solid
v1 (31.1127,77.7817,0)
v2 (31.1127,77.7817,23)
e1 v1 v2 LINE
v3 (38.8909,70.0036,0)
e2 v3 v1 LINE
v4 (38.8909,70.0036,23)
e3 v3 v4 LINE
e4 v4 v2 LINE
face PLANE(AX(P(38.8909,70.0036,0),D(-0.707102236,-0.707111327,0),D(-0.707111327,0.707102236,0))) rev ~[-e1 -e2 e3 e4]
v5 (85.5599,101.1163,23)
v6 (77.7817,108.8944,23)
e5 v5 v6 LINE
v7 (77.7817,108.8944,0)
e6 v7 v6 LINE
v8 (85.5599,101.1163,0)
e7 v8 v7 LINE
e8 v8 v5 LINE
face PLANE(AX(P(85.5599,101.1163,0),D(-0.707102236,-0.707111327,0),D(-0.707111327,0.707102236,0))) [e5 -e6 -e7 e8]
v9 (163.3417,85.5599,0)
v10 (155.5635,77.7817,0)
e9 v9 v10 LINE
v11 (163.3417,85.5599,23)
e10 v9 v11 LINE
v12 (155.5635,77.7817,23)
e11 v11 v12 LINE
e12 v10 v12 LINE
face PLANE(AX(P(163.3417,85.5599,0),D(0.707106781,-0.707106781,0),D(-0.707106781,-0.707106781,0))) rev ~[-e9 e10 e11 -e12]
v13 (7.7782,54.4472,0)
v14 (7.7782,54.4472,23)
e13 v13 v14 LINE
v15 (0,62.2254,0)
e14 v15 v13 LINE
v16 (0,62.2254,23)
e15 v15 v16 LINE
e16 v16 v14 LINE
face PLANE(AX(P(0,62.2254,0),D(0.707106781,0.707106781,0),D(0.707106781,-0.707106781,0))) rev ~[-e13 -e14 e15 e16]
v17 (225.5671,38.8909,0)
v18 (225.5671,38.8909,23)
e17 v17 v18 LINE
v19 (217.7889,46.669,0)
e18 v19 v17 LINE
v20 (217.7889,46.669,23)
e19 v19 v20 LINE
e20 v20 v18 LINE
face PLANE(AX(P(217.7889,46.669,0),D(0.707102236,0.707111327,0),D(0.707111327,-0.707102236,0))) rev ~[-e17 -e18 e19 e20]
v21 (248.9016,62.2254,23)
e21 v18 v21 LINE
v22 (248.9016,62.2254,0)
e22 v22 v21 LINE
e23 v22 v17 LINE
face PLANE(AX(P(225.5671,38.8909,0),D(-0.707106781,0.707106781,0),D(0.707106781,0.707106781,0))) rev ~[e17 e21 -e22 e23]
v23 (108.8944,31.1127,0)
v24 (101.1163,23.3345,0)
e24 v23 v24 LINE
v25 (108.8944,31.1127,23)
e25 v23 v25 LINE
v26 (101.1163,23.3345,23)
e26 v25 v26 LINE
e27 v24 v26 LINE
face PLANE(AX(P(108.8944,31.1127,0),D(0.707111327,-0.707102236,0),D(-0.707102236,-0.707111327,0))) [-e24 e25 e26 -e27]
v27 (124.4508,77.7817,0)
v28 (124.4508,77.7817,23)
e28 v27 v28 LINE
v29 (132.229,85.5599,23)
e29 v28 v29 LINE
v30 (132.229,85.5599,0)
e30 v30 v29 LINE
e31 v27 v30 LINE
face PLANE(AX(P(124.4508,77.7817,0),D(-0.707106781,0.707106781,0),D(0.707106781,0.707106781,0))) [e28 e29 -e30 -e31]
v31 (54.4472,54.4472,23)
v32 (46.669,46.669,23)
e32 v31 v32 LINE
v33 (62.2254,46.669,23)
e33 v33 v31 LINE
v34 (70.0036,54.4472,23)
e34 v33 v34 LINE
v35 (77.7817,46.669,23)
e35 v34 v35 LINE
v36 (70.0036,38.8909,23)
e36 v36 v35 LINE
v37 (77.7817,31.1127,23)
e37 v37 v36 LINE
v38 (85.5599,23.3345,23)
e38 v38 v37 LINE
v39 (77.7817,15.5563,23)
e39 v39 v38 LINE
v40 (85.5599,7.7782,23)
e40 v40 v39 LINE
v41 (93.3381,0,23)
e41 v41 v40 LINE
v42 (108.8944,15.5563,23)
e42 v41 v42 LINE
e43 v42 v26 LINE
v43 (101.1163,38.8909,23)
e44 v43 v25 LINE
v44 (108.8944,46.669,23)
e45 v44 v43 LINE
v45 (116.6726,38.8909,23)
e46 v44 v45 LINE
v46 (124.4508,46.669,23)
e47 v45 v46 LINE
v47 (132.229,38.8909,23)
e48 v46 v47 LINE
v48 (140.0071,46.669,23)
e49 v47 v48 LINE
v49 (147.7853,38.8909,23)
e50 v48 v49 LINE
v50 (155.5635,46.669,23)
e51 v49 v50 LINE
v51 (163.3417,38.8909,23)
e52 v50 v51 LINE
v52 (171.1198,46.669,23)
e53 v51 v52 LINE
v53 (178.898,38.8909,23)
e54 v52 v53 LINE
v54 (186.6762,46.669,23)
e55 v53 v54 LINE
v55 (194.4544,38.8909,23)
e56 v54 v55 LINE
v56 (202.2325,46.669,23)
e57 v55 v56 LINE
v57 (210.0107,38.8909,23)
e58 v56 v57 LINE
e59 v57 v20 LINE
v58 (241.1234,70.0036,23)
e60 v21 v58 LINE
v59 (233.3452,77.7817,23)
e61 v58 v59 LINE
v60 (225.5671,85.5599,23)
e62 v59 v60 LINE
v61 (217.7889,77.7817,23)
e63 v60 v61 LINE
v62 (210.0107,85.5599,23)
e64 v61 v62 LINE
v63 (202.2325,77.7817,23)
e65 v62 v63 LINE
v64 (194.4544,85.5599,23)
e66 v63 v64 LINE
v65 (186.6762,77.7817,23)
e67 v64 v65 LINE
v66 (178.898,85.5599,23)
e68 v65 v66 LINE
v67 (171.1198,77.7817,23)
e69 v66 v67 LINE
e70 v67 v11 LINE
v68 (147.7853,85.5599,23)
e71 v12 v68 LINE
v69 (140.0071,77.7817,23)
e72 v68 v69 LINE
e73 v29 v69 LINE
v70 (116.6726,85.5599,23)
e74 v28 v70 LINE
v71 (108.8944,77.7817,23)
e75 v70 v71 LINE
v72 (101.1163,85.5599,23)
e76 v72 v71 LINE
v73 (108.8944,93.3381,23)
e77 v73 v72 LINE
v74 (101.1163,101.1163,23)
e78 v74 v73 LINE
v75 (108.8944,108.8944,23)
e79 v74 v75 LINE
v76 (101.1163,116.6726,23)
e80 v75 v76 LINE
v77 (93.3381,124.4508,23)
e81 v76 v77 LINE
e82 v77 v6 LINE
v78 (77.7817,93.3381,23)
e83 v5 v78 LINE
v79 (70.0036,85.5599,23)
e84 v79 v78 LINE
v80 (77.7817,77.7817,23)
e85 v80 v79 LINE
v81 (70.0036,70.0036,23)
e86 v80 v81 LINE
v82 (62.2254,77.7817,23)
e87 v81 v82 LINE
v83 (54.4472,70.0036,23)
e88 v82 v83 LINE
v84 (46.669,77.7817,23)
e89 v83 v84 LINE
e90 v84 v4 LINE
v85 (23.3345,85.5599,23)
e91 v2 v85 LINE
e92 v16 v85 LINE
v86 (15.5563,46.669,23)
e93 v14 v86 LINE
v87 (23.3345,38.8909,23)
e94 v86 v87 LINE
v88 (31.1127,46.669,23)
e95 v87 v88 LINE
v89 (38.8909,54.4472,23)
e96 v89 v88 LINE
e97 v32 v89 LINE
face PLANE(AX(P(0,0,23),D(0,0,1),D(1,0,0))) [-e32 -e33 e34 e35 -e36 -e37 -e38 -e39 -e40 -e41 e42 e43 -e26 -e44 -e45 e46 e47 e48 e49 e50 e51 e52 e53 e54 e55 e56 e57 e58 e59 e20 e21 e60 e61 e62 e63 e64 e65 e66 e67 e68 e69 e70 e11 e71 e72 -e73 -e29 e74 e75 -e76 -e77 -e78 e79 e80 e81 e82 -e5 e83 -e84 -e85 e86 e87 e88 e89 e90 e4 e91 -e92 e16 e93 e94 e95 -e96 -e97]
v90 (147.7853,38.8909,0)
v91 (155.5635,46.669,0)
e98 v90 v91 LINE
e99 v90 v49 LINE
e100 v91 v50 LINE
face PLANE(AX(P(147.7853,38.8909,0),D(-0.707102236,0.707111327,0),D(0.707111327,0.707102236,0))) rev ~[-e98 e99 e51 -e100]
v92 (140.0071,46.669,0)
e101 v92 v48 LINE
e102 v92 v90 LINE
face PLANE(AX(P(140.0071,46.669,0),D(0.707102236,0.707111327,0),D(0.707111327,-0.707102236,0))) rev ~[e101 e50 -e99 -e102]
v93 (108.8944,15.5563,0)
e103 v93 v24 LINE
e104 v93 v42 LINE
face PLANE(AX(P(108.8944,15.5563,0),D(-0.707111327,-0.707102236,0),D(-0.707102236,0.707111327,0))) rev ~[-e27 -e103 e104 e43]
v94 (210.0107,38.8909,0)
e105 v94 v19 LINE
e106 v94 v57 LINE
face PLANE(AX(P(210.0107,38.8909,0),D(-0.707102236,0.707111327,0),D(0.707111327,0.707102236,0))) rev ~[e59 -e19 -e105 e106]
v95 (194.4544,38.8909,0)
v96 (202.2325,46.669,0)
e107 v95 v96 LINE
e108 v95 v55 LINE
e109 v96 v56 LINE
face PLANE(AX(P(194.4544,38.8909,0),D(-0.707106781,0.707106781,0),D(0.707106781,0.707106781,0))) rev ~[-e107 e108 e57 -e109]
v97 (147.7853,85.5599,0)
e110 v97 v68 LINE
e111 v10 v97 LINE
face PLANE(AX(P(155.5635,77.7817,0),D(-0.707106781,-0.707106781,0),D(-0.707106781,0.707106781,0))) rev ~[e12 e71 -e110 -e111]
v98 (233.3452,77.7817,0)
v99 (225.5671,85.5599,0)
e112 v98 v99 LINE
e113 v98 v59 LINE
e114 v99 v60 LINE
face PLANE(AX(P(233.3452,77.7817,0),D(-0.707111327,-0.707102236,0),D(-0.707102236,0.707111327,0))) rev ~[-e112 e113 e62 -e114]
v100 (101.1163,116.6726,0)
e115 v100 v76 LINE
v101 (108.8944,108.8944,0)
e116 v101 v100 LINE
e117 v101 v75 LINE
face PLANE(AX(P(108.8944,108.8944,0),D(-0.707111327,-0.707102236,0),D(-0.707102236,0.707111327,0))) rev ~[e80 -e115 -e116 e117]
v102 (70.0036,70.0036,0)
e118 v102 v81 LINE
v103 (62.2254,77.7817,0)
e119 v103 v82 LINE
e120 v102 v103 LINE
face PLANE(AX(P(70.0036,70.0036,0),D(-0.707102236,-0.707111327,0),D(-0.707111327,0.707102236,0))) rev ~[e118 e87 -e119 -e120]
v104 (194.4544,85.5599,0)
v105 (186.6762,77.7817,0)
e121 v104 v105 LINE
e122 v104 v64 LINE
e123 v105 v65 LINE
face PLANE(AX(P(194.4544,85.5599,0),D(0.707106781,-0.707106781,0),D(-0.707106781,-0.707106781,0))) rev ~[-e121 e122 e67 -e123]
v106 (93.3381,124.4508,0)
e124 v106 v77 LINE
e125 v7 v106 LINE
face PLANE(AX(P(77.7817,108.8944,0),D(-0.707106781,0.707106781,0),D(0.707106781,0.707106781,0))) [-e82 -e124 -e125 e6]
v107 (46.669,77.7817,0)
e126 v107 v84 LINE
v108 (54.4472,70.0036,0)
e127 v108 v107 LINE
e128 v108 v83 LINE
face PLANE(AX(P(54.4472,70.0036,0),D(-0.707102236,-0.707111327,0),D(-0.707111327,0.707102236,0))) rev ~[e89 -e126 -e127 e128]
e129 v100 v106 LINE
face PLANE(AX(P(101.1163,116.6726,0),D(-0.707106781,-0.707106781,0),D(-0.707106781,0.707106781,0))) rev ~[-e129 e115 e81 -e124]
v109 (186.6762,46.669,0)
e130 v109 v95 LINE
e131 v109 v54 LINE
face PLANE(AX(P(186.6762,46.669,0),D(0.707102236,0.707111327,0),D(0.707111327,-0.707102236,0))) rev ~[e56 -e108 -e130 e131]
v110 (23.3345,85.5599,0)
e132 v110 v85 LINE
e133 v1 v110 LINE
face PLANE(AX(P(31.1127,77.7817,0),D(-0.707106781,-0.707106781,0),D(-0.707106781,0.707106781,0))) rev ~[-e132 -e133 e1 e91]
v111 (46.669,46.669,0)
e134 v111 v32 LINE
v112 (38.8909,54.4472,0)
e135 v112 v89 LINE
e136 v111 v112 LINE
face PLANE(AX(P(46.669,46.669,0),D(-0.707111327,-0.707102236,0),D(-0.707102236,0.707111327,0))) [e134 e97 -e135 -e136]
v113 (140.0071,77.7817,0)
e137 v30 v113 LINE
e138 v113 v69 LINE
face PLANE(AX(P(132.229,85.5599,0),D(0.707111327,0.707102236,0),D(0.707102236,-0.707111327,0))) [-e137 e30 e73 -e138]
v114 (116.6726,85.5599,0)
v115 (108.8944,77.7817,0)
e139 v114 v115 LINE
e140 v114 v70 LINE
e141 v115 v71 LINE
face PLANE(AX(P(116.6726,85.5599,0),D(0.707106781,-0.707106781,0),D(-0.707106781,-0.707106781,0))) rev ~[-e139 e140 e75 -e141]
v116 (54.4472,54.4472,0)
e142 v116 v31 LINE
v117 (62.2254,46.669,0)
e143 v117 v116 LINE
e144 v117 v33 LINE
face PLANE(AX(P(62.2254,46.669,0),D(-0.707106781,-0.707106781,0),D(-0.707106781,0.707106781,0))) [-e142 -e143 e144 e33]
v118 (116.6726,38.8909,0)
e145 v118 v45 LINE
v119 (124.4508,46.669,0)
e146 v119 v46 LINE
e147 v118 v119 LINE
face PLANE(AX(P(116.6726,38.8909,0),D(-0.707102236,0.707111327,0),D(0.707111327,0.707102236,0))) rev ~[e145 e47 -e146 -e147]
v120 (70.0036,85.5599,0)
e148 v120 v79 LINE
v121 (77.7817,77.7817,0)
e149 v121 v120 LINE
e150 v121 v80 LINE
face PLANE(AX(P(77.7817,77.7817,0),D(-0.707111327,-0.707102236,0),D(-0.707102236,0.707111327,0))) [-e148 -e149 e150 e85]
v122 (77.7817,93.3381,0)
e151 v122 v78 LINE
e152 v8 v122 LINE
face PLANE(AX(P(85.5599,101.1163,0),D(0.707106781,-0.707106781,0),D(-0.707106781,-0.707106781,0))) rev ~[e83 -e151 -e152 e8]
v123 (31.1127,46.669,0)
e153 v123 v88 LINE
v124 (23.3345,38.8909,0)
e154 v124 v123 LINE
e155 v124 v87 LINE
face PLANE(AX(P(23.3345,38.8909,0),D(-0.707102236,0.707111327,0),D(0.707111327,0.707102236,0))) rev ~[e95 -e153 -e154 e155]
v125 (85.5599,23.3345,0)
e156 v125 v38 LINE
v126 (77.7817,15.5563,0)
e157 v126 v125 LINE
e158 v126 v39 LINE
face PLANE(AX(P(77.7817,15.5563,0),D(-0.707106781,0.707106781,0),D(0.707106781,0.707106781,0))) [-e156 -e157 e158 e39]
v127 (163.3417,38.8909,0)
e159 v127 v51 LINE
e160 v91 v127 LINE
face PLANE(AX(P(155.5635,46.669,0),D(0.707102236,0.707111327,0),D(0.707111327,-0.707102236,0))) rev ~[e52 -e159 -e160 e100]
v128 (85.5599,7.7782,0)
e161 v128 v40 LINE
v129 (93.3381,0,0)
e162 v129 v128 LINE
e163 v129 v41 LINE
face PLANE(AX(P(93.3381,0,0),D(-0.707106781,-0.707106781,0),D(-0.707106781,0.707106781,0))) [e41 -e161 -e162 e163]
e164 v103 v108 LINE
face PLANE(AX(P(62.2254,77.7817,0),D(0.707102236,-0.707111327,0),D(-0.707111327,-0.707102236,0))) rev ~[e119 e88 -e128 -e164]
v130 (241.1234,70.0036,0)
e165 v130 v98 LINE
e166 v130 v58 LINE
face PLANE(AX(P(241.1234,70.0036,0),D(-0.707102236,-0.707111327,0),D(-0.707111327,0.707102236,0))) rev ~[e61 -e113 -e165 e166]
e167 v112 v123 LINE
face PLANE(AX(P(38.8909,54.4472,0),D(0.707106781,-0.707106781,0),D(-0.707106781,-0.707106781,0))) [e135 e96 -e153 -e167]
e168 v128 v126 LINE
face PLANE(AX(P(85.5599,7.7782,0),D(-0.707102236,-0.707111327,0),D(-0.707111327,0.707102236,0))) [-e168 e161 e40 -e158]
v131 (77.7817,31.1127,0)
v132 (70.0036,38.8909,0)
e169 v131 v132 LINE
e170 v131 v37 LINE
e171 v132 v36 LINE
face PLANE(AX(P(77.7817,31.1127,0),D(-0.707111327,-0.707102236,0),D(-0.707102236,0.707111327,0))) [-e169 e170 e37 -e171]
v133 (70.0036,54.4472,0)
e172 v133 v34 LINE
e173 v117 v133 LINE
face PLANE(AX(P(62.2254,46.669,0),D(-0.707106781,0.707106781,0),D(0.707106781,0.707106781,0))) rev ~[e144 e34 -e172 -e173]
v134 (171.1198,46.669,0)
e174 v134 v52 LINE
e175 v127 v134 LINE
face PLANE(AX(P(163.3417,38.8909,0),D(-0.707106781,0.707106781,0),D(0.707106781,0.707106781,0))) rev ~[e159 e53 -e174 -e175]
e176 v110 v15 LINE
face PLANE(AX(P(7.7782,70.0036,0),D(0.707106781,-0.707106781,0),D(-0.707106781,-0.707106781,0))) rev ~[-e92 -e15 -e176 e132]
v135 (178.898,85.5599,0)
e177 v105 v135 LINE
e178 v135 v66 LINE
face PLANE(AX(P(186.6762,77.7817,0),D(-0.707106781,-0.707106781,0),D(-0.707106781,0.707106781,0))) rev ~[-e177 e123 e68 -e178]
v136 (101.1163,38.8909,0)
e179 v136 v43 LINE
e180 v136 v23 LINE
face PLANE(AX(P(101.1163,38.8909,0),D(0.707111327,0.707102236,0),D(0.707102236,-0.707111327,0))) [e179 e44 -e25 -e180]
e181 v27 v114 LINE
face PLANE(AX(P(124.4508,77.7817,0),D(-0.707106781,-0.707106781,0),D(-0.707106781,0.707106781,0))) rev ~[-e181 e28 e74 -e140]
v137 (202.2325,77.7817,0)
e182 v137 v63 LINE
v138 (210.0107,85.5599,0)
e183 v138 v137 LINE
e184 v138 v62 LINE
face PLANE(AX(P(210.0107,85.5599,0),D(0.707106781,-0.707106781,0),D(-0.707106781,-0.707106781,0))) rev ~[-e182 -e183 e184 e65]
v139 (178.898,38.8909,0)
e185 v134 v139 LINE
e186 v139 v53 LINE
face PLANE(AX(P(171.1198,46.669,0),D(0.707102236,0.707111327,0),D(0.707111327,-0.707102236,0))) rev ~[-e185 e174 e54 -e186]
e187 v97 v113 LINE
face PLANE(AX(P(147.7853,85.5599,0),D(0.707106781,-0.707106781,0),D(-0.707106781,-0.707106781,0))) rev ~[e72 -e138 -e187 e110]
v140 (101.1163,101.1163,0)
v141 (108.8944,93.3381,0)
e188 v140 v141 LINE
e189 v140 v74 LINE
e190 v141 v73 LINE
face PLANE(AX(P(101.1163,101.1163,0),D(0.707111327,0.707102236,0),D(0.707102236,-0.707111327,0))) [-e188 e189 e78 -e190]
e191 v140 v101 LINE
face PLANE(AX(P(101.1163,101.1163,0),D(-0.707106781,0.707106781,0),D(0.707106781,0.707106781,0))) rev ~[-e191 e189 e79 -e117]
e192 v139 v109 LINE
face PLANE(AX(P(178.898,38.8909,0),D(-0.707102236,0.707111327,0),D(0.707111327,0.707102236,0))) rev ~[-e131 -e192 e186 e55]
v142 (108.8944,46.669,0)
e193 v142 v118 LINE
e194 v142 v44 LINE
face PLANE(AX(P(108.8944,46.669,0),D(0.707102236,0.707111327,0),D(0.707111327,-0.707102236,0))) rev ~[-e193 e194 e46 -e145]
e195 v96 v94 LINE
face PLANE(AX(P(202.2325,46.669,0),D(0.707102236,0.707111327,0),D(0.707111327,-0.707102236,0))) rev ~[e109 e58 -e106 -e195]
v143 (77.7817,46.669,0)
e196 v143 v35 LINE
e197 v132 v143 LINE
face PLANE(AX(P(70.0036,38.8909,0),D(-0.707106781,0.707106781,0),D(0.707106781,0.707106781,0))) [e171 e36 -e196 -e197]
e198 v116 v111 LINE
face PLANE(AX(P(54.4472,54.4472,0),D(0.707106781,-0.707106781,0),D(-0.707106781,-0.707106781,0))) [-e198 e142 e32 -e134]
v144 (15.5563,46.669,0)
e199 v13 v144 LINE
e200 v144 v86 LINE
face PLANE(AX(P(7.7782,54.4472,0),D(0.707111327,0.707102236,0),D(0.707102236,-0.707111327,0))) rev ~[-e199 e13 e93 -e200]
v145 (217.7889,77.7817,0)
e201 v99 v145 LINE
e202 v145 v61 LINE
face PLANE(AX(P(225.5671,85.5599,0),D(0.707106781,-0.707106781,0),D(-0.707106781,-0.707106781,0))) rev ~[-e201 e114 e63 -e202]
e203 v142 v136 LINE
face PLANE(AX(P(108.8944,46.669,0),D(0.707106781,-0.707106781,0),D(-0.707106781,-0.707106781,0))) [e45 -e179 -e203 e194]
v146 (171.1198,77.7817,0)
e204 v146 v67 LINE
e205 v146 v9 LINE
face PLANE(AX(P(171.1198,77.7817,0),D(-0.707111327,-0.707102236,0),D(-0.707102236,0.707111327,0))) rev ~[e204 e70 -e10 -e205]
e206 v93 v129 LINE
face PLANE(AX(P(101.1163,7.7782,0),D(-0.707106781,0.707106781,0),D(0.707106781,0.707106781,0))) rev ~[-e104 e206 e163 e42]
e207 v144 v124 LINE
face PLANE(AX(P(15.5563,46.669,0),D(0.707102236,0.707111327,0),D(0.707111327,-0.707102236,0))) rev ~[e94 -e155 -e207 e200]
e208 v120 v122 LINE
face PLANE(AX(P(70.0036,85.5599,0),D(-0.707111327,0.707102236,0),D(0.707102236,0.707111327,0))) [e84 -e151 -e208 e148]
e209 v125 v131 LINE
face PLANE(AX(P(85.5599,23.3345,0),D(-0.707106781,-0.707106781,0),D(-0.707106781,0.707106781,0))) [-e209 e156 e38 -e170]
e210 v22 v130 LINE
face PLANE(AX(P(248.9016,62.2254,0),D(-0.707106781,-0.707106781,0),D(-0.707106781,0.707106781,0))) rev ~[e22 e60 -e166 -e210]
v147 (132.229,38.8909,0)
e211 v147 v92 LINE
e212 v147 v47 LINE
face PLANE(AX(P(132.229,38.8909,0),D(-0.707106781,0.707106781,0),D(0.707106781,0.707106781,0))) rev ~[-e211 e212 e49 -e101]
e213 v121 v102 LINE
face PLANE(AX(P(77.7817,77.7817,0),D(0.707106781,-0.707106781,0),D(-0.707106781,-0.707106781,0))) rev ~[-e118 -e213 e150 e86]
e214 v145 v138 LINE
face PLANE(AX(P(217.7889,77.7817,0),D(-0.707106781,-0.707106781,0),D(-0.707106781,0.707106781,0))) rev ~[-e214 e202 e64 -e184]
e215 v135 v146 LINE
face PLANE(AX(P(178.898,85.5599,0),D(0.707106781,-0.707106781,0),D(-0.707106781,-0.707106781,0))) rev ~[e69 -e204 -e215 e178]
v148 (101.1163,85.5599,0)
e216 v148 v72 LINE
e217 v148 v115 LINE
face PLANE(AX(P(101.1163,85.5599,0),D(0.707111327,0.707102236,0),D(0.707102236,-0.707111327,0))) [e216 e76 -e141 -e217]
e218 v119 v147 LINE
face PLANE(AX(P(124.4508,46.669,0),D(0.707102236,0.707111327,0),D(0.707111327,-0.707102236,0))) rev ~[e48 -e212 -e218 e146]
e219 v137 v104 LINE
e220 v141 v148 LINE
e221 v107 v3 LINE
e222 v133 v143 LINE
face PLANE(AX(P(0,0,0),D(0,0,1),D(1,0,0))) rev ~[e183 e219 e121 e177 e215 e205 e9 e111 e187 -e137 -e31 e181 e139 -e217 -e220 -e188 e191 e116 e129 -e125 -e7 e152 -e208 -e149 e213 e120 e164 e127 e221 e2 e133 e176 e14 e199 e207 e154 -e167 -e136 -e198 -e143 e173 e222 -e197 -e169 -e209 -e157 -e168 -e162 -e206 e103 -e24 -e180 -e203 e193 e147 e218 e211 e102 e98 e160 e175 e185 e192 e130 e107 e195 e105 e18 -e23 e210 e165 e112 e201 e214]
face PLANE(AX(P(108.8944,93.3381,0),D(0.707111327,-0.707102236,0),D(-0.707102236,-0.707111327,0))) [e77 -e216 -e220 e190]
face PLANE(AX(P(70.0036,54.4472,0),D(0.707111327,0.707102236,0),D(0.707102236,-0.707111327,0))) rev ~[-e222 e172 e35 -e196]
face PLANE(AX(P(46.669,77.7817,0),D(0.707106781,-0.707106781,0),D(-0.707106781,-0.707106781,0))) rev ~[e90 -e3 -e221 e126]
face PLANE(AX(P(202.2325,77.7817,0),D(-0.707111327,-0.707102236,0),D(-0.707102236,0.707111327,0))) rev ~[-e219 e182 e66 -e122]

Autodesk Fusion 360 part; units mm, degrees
sketch "big huge diamond sword" plane through (0, 0, 0) normal (0, 0, 1) x (1, 0, 0)
  line L0 (0, 62.2254) -> (7.7782, 54.4472)
  line L1 (7.7782, 54.4472) -> (15.5563, 62.2254)
  line L2 (15.5563, 62.2254) -> (7.7782, 70.0036)
  line L3 (7.7782, 70.0036) -> (0, 62.2254)
  line L4 (7.7782, 54.4472) -> (15.5563, 46.669)
  line L5 (15.5563, 46.669) -> (23.3345, 54.4472)
  line L6 (23.3345, 54.4472) -> (15.5563, 62.2254)
  line L7 (15.5563, 62.2254) -> (7.7782, 54.4472)
  line L8 (15.5563, 46.669) -> (23.3345, 38.8909)
  line L9 (23.3345, 38.8909) -> (31.1127, 46.669)
  line L10 (23.3345, 54.4472) -> (15.5563, 46.669)
  line L11 (7.7782, 70.0036) -> (15.5563, 62.2254)
  line L12 (15.5563, 62.2254) -> (23.3345, 70.0036)
  line L13 (23.3345, 70.0036) -> (15.5563, 77.7817)
  line L14 (15.5563, 77.7817) -> (7.7782, 70.0036)
  line L15 (23.3345, 70.0036) -> (31.1127, 62.2254)
  line L16 (31.1127, 62.2254) -> (23.3345, 54.4472)
  line L17 (23.3345, 54.4472) -> (15.5563, 62.2254)
  line L18 (15.5563, 62.2254) -> (23.3345, 70.0036)
  line L19 (15.5563, 77.7817) -> (23.3345, 70.0036)
  line L20 (23.3345, 70.0036) -> (31.1127, 77.7817)
  line L21 (31.1127, 77.7817) -> (23.3345, 85.5599)
  line L22 (23.3345, 85.5599) -> (15.5563, 77.7817)
  line L23 (23.3345, 70.0036) -> (31.1127, 62.2254)
  line L24 (31.1127, 62.2254) -> (38.8909, 70.0036)
  line L25 (38.8909, 70.0036) -> (31.1127, 77.7817)
  line L26 (31.1127, 77.7817) -> (23.3345, 70.0036)
  line L27 (31.1127, 62.2254) -> (38.8909, 54.4472)
  line L28 (38.8909, 54.4472) -> (31.1127, 46.669)
  line L29 (31.1127, 46.669) -> (23.3345, 54.4472)
  line L30 (23.3345, 54.4472) -> (31.1127, 62.2254)
  line L31 (31.1127, 62.2254) -> (38.8909, 54.4472)
  line L32 (38.8909, 54.4472) -> (46.669, 62.2254)
  line L33 (46.669, 62.2254) -> (38.8909, 70.0036)
  line L34 (38.8909, 70.0036) -> (31.1127, 62.2254)
  line L35 (38.8909, 70.0036) -> (46.669, 62.2254)
  line L36 (46.669, 62.2254) -> (54.4472, 70.0036)
  line L37 (54.4472, 70.0036) -> (46.669, 77.7817)
  line L38 (46.669, 77.7817) -> (38.8909, 70.0036)
  line L39 (46.669, 62.2254) -> (54.4472, 54.4472)
  line L40 (54.4472, 54.4472) -> (46.669, 46.669)
  line L41 (46.669, 46.669) -> (38.8909, 54.4472)
  line L42 (38.8909, 54.4472) -> (46.669, 62.2254)
  line L43 (46.669, 62.2254) -> (54.4472, 54.4472)
  line L44 (54.4472, 54.4472) -> (62.2254, 62.2254)
  line L45 (62.2254, 62.2254) -> (54.4472, 70.0036)
  line L46 (54.4472, 70.0036) -> (46.669, 62.2254)
  line L47 (54.4472, 70.0036) -> (62.2254, 62.2254)
  line L48 (62.2254, 62.2254) -> (70.0036, 70.0036)
  line L49 (70.0036, 70.0036) -> (62.2254, 77.7817)
  line L50 (62.2254, 77.7817) -> (54.4472, 70.0036)
  line L51 (62.2254, 62.2254) -> (70.0036, 54.4472)
  line L52 (62.2254, 46.669) -> (54.4472, 54.4472)
  line L53 (54.4472, 54.4472) -> (62.2254, 62.2254)
  line L54 (62.2254, 62.2254) -> (70.0036, 54.4472)
  line L55 (70.0036, 54.4472) -> (77.7817, 62.2254)
  line L56 (77.7817, 62.2254) -> (70.0036, 70.0036)
  line L57 (70.0036, 70.0036) -> (62.2254, 62.2254)
  line L58 (70.0036, 70.0036) -> (77.7817, 62.2254)
  line L59 (77.7817, 62.2254) -> (85.5599, 70.0036)
  line L60 (85.5599, 70.0036) -> (77.7817, 77.7817)
  line L61 (77.7817, 77.7817) -> (70.0036, 70.0036)
  line L62 (77.7817, 77.7817) -> (70.0036, 85.5599)
  line L63 (70.0036, 85.5599) -> (77.7817, 93.3381)
  line L64 (77.7817, 93.3381) -> (85.5599, 85.5599)
  line L65 (85.5599, 85.5599) -> (77.7817, 77.7817)
  line L66 (77.7817, 93.3381) -> (85.5599, 85.5599)
  line L67 (85.5599, 85.5599) -> (93.3381, 93.3381)
  line L68 (93.3381, 93.3381) -> (85.5599, 101.1163)
  line L69 (85.5599, 101.1163) -> (77.7817, 93.3381)
  line L70 (85.5599, 101.1163) -> (77.7817, 108.8944)
  line L71 (77.7817, 108.8944) -> (85.5599, 116.6726)
  line L72 (85.5599, 116.6726) -> (93.3381, 108.8944)
  line L73 (93.3381, 108.8944) -> (85.5599, 101.1163)
  line L74 (85.5599, 116.6726) -> (93.3381, 108.8944)
  line L75 (93.3381, 108.8944) -> (101.1163, 116.6726)
  line L76 (101.1163, 116.6726) -> (93.3381, 124.4508)
  line L77 (93.3381, 124.4508) -> (85.5599, 116.6726)
  line L78 (93.3381, 108.8944) -> (101.1163, 101.1163)
  line L79 (101.1163, 101.1163) -> (108.8944, 108.8944)
  line L80 (108.8944, 108.8944) -> (101.1163, 116.6726)
  line L81 (101.1163, 116.6726) -> (93.3381, 108.8944)
  line L82 (85.5599, 101.1163) -> (93.3381, 93.3381)
  line L83 (93.3381, 93.3381) -> (101.1163, 101.1163)
  line L84 (101.1163, 101.1163) -> (93.3381, 108.8944)
  line L85 (93.3381, 108.8944) -> (85.5599, 101.1163)
  line L86 (101.1163, 101.1163) -> (108.8944, 93.3381)
  line L87 (108.8944, 93.3381) -> (101.1163, 85.5599)
  line L88 (101.1163, 85.5599) -> (93.3381, 93.3381)
  line L89 (93.3381, 93.3381) -> (101.1163, 101.1163)
  line L90 (93.3381, 93.3381) -> (101.1163, 85.5599)
  line L91 (101.1163, 85.5599) -> (93.3381, 77.7817)
  line L92 (93.3381, 77.7817) -> (85.5599, 85.5599)
  line L93 (85.5599, 85.5599) -> (93.3381, 93.3381)
  line L94 (77.7817, 77.7817) -> (85.5599, 70.0036)
  line L95 (85.5599, 70.0036) -> (93.3381, 77.7817)
  line L96 (93.3381, 77.7817) -> (85.5599, 85.5599)
  line L97 (85.5599, 85.5599) -> (77.7817, 77.7817)
  line L98 (70.0036, 54.4472) -> (77.7817, 46.669)
  line L99 (62.2254, 46.669) -> (70.0036, 54.4472)
  line L100 (77.7817, 62.2254) -> (85.5599, 54.4472)
  line L101 (85.5599, 54.4472) -> (77.7817, 46.669)
  line L102 (70.0036, 54.4472) -> (77.7817, 62.2254)
  line L103 (85.5599, 70.0036) -> (93.3381, 62.2254)
  line L104 (93.3381, 62.2254) -> (85.5599, 54.4472)
  line L105 (85.5599, 54.4472) -> (77.7817, 62.2254)
  line L106 (77.7817, 62.2254) -> (85.5599, 70.0036)
  line L107 (77.7817, 46.669) -> (85.5599, 38.8909)
  line L108 (85.5599, 38.8909) -> (77.7817, 31.1127)
  line L109 (77.7817, 31.1127) -> (70.0036, 38.8909)
  line L110 (70.0036, 38.8909) -> (77.7817, 46.669)
  line L111 (77.7817, 46.669) -> (85.5599, 38.8909)
  line L112 (85.5599, 38.8909) -> (93.3381, 46.669)
  line L113 (93.3381, 46.669) -> (85.5599, 54.4472)
  line L114 (85.5599, 54.4472) -> (77.7817, 46.669)
  line L115 (85.5599, 38.8909) -> (93.3381, 31.1127)
  line L116 (93.3381, 31.1127) -> (85.5599, 23.3345)
  line L117 (85.5599, 23.3345) -> (77.7817, 31.1127)
  line L118 (77.7817, 31.1127) -> (85.5599, 38.8909)
  line L119 (85.5599, 23.3345) -> (93.3381, 15.5563)
  line L120 (93.3381, 15.5563) -> (101.1163, 23.3345)
  line L121 (101.1163, 23.3345) -> (93.3381, 31.1127)
  line L122 (93.3381, 31.1127) -> (85.5599, 23.3345)
  line L123 (93.3381, 15.5563) -> (101.1163, 7.7782)
  line L124 (101.1163, 7.7782) -> (108.8944, 15.5563)
  line L125 (108.8944, 15.5563) -> (101.1163, 23.3345)
  line L126 (101.1163, 23.3345) -> (93.3381, 15.5563)
  line L127 (85.5599, 23.3345) -> (93.3381, 15.5563)
  line L128 (93.3381, 15.5563) -> (85.5599, 7.7782)
  line L129 (85.5599, 7.7782) -> (77.7817, 15.5563)
  line L130 (77.7817, 15.5563) -> (85.5599, 23.3345)
  line L131 (93.3381, 15.5563) -> (101.1163, 7.7782)
  line L132 (101.1163, 7.7782) -> (93.3381, 0)
  line L133 (93.3381, 0) -> (85.5599, 7.7782)
  line L134 (85.5599, 7.7782) -> (93.3381, 15.5563)
  line L135 (93.3381, 77.7817) -> (101.1163, 70.0036)
  line L136 (101.1163, 70.0036) -> (93.3381, 62.2254)
  line L137 (93.3381, 62.2254) -> (85.5599, 70.0036)
  line L138 (85.5599, 70.0036) -> (93.3381, 77.7817)
  line L139 (93.3381, 62.2254) -> (101.1163, 54.4472)
  line L140 (101.1163, 54.4472) -> (93.3381, 46.669)
  line L141 (93.3381, 46.669) -> (85.5599, 54.4472)
  line L142 (85.5599, 54.4472) -> (93.3381, 62.2254)
  line L143 (101.1163, 85.5599) -> (108.8944, 77.7817)
  line L144 (108.8944, 77.7817) -> (101.1163, 70.0036)
  line L145 (101.1163, 70.0036) -> (93.3381, 77.7817)
  line L146 (93.3381, 77.7817) -> (101.1163, 85.5599)
  line L147 (101.1163, 70.0036) -> (108.8944, 62.2254)
  line L148 (108.8944, 62.2254) -> (101.1163, 54.4472)
  line L149 (101.1163, 54.4472) -> (93.3381, 62.2254)
  line L150 (93.3381, 62.2254) -> (101.1163, 70.0036)
  line L151 (108.8944, 77.7817) -> (116.6726, 70.0036)
  line L152 (116.6726, 70.0036) -> (108.8944, 62.2254)
  line L153 (108.8944, 62.2254) -> (101.1163, 70.0036)
  line L154 (101.1163, 70.0036) -> (108.8944, 77.7817)
  line L155 (93.3381, 46.669) -> (101.1163, 38.8909)
  line L156 (101.1163, 38.8909) -> (93.3381, 31.1127)
  line L157 (93.3381, 31.1127) -> (85.5599, 38.8909)
  line L158 (85.5599, 38.8909) -> (93.3381, 46.669)
  line L159 (101.1163, 38.8909) -> (108.8944, 31.1127)
  line L160 (108.8944, 31.1127) -> (101.1163, 23.3345)
  line L161 (101.1163, 23.3345) -> (93.3381, 31.1127)
  line L162 (93.3381, 31.1127) -> (101.1163, 38.8909)
  line L163 (101.1163, 54.4472) -> (108.8944, 46.669)
  line L164 (108.8944, 46.669) -> (101.1163, 38.8909)
  line L165 (101.1163, 38.8909) -> (93.3381, 46.669)
  line L166 (93.3381, 46.669) -> (101.1163, 54.4472)
  line L167 (108.8944, 62.2254) -> (116.6726, 54.4472)
  line L168 (116.6726, 54.4472) -> (108.8944, 46.669)
  line L169 (108.8944, 46.669) -> (101.1163, 54.4472)
  line L170 (101.1163, 54.4472) -> (108.8944, 62.2254)
  line L171 (108.8944, 46.669) -> (101.1163, 54.4472)
  line L172 (101.1163, 54.4472) -> (108.8944, 62.2254)
  line L173 (108.8944, 62.2254) -> (116.6726, 54.4472)
  line L174 (116.6726, 54.4472) -> (108.8944, 46.669)
  line L175 (108.8944, 46.669) -> (116.6726, 38.8909)
  line L176 (116.6726, 38.8909) -> (124.4508, 46.669)
  line L177 (124.4508, 46.669) -> (116.6726, 54.4472)
  line L178 (116.6726, 54.4472) -> (108.8944, 46.669)
  line L179 (108.8944, 62.2254) -> (116.6726, 54.4472)
  line L180 (116.6726, 54.4472) -> (124.4508, 62.2254)
  line L181 (124.4508, 62.2254) -> (116.6726, 70.0036)
  line L182 (116.6726, 70.0036) -> (108.8944, 62.2254)
  line L183 (116.6726, 54.4472) -> (124.4508, 46.669)
  line L184 (124.4508, 46.669) -> (132.229, 54.4472)
  line L185 (132.229, 54.4472) -> (124.4508, 62.2254)
  line L186 (124.4508, 62.2254) -> (116.6726, 54.4472)
  line L187 (124.4508, 46.669) -> (132.229, 38.8909)
  line L188 (132.229, 38.8909) -> (140.0071, 46.669)
  line L189 (140.0071, 46.669) -> (132.229, 54.4472)
  line L190 (132.229, 54.4472) -> (124.4508, 46.669)
  line L191 (108.8944, 77.7817) -> (116.6726, 70.0036)
  line L192 (116.6726, 70.0036) -> (124.4508, 77.7817)
  line L193 (124.4508, 77.7817) -> (116.6726, 85.5599)
  line L194 (116.6726, 85.5599) -> (108.8944, 77.7817)
  line L195 (116.6726, 70.0036) -> (124.4508, 62.2254)
  line L196 (124.4508, 62.2254) -> (132.229, 70.0036)
  line L197 (132.229, 70.0036) -> (124.4508, 77.7817)
  line L198 (124.4508, 77.7817) -> (116.6726, 70.0036)
  line L199 (132.229, 70.0036) -> (124.4508, 77.7817)
  line L200 (124.4508, 77.7817) -> (132.229, 85.5599)
  line L201 (132.229, 85.5599) -> (140.0071, 77.7817)
  line L202 (140.0071, 77.7817) -> (132.229, 70.0036)
  line L203 (124.4508, 62.2254) -> (132.229, 54.4472)
  line L204 (132.229, 54.4472) -> (140.0071, 62.2254)
  line L205 (140.0071, 62.2254) -> (132.229, 70.0036)
  line L206 (132.229, 70.0036) -> (124.4508, 62.2254)
  line L207 (132.229, 70.0036) -> (140.0071, 62.2254)
  line L208 (140.0071, 62.2254) -> (147.7853, 70.0036)
  line L209 (147.7853, 70.0036) -> (140.0071, 77.7817)
  line L210 (140.0071, 77.7817) -> (132.229, 70.0036)
  line L211 (132.229, 54.4472) -> (140.0071, 46.669)
  line L212 (140.0071, 46.669) -> (147.7853, 54.4472)
  line L213 (147.7853, 54.4472) -> (140.0071, 62.2254)
  line L214 (140.0071, 62.2254) -> (132.229, 54.4472)
  line L215 (140.0071, 77.7817) -> (147.7853, 70.0036)
  line L216 (147.7853, 70.0036) -> (155.5635, 77.7817)
  line L217 (155.5635, 77.7817) -> (147.7853, 85.5599)
  line L218 (147.7853, 85.5599) -> (140.0071, 77.7817)
  line L219 (140.0071, 46.669) -> (147.7853, 38.8909)
  line L220 (147.7853, 38.8909) -> (155.5635, 46.669)
  line L221 (155.5635, 46.669) -> (147.7853, 54.4472)
  line L222 (147.7853, 54.4472) -> (140.0071, 46.669)
  line L223 (140.0071, 62.2254) -> (147.7853, 54.4472)
  line L224 (147.7853, 54.4472) -> (155.5635, 62.2254)
  line L225 (155.5635, 62.2254) -> (147.7853, 70.0036)
  line L226 (147.7853, 70.0036) -> (140.0071, 62.2254)
  line L227 (155.5635, 62.2254) -> (163.3417, 54.4472)
  line L228 (163.3417, 54.4472) -> (171.1198, 62.2254)
  line L229 (171.1198, 62.2254) -> (163.3417, 70.0036)
  line L230 (163.3417, 70.0036) -> (155.5635, 62.2254)
  line L231 (155.5635, 62.2254) -> (147.7853, 70.0036)
  line L232 (147.7853, 70.0036) -> (155.5635, 77.7817)
  line L233 (155.5635, 77.7817) -> (163.3417, 70.0036)
  line L234 (163.3417, 70.0036) -> (155.5635, 62.2254)
  line L235 (155.5635, 62.2254) -> (163.3417, 54.4472)
  line L236 (163.3417, 54.4472) -> (155.5635, 46.669)
  line L237 (155.5635, 46.669) -> (147.7853, 54.4472)
  line L238 (147.7853, 54.4472) -> (155.5635, 62.2254)
  line L239 (155.5635, 77.7817) -> (163.3417, 70.0036)
  line L240 (163.3417, 70.0036) -> (171.1198, 77.7817)
  line L241 (171.1198, 77.7817) -> (163.3417, 85.5599)
  line L242 (163.3417, 85.5599) -> (155.5635, 77.7817)
  line L243 (163.3417, 70.0036) -> (171.1198, 62.2254)
  line L244 (171.1198, 62.2254) -> (178.898, 70.0036)
  line L245 (178.898, 70.0036) -> (171.1198, 77.7817)
  line L246 (171.1198, 77.7817) -> (163.3417, 70.0036)
  line L247 (155.5635, 46.669) -> (163.3417, 38.8909)
  line L248 (163.3417, 38.8909) -> (171.1198, 46.669)
  line L249 (171.1198, 46.669) -> (163.3417, 54.4472)
  line L250 (163.3417, 54.4472) -> (155.5635, 46.669)
  line L251 (163.3417, 54.4472) -> (171.1198, 46.669)
  line L252 (171.1198, 46.669) -> (178.898, 54.4472)
  line L253 (178.898, 54.4472) -> (171.1198, 62.2254)
  line L254 (171.1198, 62.2254) -> (163.3417, 54.4472)
  line L255 (171.1198, 62.2254) -> (178.898, 54.4472)
  line L256 (178.898, 54.4472) -> (186.6762, 62.2254)
  line L257 (186.6762, 62.2254) -> (178.898, 70.0036)
  line L258 (178.898, 70.0036) -> (171.1198, 62.2254)
  line L259 (171.1198, 77.7817) -> (178.898, 70.0036)
  line L260 (178.898, 70.0036) -> (186.6762, 77.7817)
  line L261 (186.6762, 77.7817) -> (178.898, 85.5599)
  line L262 (178.898, 85.5599) -> (171.1198, 77.7817)
  line L263 (171.1198, 46.669) -> (178.898, 38.8909)
  line L264 (178.898, 38.8909) -> (186.6762, 46.669)
  line L265 (186.6762, 46.669) -> (178.898, 54.4472)
  line L266 (178.898, 54.4472) -> (171.1198, 46.669)
  line L267 (178.898, 70.0036) -> (186.6762, 62.2254)
  line L268 (186.6762, 62.2254) -> (194.4544, 70.0036)
  line L269 (194.4544, 70.0036) -> (186.6762, 77.7817)
  line L270 (186.6762, 77.7817) -> (178.898, 70.0036)
  line L271 (178.898, 54.4472) -> (186.6762, 46.669)
  line L272 (186.6762, 46.669) -> (194.4544, 54.4472)
  line L273 (194.4544, 54.4472) -> (186.6762, 62.2254)
  line L274 (186.6762, 62.2254) -> (178.898, 54.4472)
  line L275 (186.6762, 62.2254) -> (194.4544, 54.4472)
  line L276 (194.4544, 54.4472) -> (202.2325, 62.2254)
  line L277 (202.2325, 62.2254) -> (194.4544, 70.0036)
  line L278 (194.4544, 70.0036) -> (186.6762, 62.2254)
  line L279 (186.6762, 46.669) -> (194.4544, 38.8909)
  line L280 (194.4544, 38.8909) -> (202.2325, 46.669)
  line L281 (202.2325, 46.669) -> (194.4544, 54.4472)
  line L282 (194.4544, 54.4472) -> (186.6762, 46.669)
  line L283 (186.6762, 77.7817) -> (194.4544, 70.0036)
  line L284 (194.4544, 70.0036) -> (202.2325, 77.7817)
  line L285 (202.2325, 77.7817) -> (194.4544, 85.5599)
  line L286 (194.4544, 85.5599) -> (186.6762, 77.7817)
  line L287 (202.2325, 62.2254) -> (210.0107, 54.4472)
  line L288 (210.0107, 54.4472) -> (202.2325, 46.669)
  line L289 (202.2325, 46.669) -> (194.4544, 54.4472)
  line L290 (194.4544, 54.4472) -> (202.2325, 62.2254)
  line L291 (194.4544, 70.0036) -> (202.2325, 62.2254)
  line L292 (202.2325, 62.2254) -> (210.0107, 70.0036)
  line L293 (210.0107, 70.0036) -> (202.2325, 77.7817)
  line L294 (202.2325, 77.7817) -> (194.4544, 70.0036)
  line L295 (202.2325, 62.2254) -> (210.0107, 54.4472)
  line L296 (210.0107, 54.4472) -> (217.7889, 62.2254)
  line L297 (217.7889, 62.2254) -> (210.0107, 70.0036)
  line L298 (210.0107, 70.0036) -> (202.2325, 62.2254)
  line L299 (202.2325, 46.669) -> (210.0107, 38.8909)
  line L300 (210.0107, 38.8909) -> (217.7889, 46.669)
  line L301 (217.7889, 46.669) -> (210.0107, 54.4472)
  line L302 (210.0107, 54.4472) -> (202.2325, 46.669)
  line L303 (202.2325, 77.7817) -> (210.0107, 70.0036)
  line L304 (210.0107, 70.0036) -> (217.7889, 77.7817)
  line L305 (217.7889, 77.7817) -> (210.0107, 85.5599)
  line L306 (210.0107, 85.5599) -> (202.2325, 77.7817)
  line L307 (217.7889, 77.7817) -> (225.5671, 70.0036)
  line L308 (225.5671, 70.0036) -> (217.7889, 62.2254)
  line L309 (217.7889, 62.2254) -> (210.0107, 70.0036)
  line L310 (210.0107, 70.0036) -> (217.7889, 77.7817)
  line L311 (210.0107, 54.4472) -> (217.7889, 46.669)
  line L312 (217.7889, 46.669) -> (225.5671, 54.4472)
  line L313 (225.5671, 54.4472) -> (217.7889, 62.2254)
  line L314 (217.7889, 62.2254) -> (210.0107, 54.4472)
  line L315 (217.7889, 62.2254) -> (225.5671, 54.4472)
  line L316 (225.5671, 54.4472) -> (233.3452, 62.2254)
  line L317 (233.3452, 62.2254) -> (225.5671, 70.0036)
  line L318 (225.5671, 70.0036) -> (217.7889, 62.2254)
  line L319 (217.7889, 77.7817) -> (225.5671, 70.0036)
  line L320 (225.5671, 70.0036) -> (233.3452, 77.7817)
  line L321 (233.3452, 77.7817) -> (225.5671, 85.5599)
  line L322 (225.5671, 85.5599) -> (217.7889, 77.7817)
  line L323 (225.5671, 70.0036) -> (233.3452, 62.2254)
  line L324 (233.3452, 62.2254) -> (241.1234, 70.0036)
  line L325 (241.1234, 70.0036) -> (233.3452, 77.7817)
  line L326 (233.3452, 77.7817) -> (225.5671, 70.0036)
  line L327 (217.7889, 46.669) -> (225.5671, 38.8909)
  line L328 (225.5671, 38.8909) -> (233.3452, 46.669)
  line L329 (233.3452, 46.669) -> (225.5671, 54.4472)
  line L330 (225.5671, 54.4472) -> (217.7889, 46.669)
  line L331 (225.5671, 54.4472) -> (233.3452, 46.669)
  line L332 (233.3452, 46.669) -> (241.1234, 54.4472)
  line L333 (241.1234, 54.4472) -> (233.3452, 62.2254)
  line L334 (233.3452, 62.2254) -> (225.5671, 54.4472)
  line L335 (233.3452, 62.2254) -> (225.5671, 70.0036)
  line L336 (225.5671, 70.0036) -> (233.3452, 77.7817)
  line L337 (233.3452, 77.7817) -> (241.1234, 70.0036)
  line L338 (241.1234, 70.0036) -> (233.3452, 62.2254)
  line L339 (233.3452, 62.2254) -> (241.1234, 54.4472)
  line L340 (241.1234, 54.4472) -> (248.9016, 62.2254)
  line L341 (248.9016, 62.2254) -> (241.1234, 70.0036)
  line L342 (241.1234, 70.0036) -> (233.3452, 62.2254)
  circle A0 centre (10, 10) radius 2.05
  circle A1 centre (200, 10) radius 2.05
  line L343 (0, 62.2254) -> (248.9016, 62.2254) construction
  circle A2 centre (200, 114.4508) radius 2.05
  point P0 (10, 114.4508)
  dimension "d249" = 11
  dimension "d250" = 11
  dimension "d251" = 11
  dimension "d252" = 11
  dimension "d253" = 11
  dimension "d254" = 11
  dimension "d255" = 11
  dimension "d256" = 11
  dimension "d261" = 11
  dimension "d262" = 11
  dimension "d263" = 11
  dimension "d264" = 11
  dimension "d265" = 11
  dimension "d266" = 11
  dimension "d267" = 11
  dimension "d268" = 11
  dimension "d271" = 11
  dimension "d272" = 11
  dimension "d273" = 11
  dimension "d274" = 11
  dimension "d275" = 11
  dimension "d276" = 11
  dimension "d277" = 11
  dimension "d278" = 11
  dimension "d279" = 11
  dimension "d280" = 11
  dimension "d281" = 11
  dimension "d282" = 11
  dimension "d283" = 11
  dimension "d284" = 11
  dimension "d285" = 11
  dimension "d286" = 11
  dimension "d287" = 11
  dimension "d288" = 11
  dimension "d289" = 11
  dimension "d290" = 11
  dimension "d291" = 11
  dimension "d292" = 11
  dimension "d293" = 11
  dimension "d294" = 11
  dimension "d295" = 11
  dimension "d296" = 11
  dimension "d297" = 11
  dimension "d298" = 11
  dimension "d299" = 11
  dimension "d300" = 11
  dimension "d301" = 11
  dimension "d302" = 11
  dimension "d303" = 11
  dimension "d304" = 11
  dimension "d309" = 11
  dimension "d310" = 11
  dimension "d311" = 11
  dimension "d312" = 11
  dimension "d313" = 11
  dimension "d314" = 11
  dimension "d315" = 11
  dimension "d316" = 11
  dimension "d319" = 11
  dimension "d320" = 11
  dimension "d321" = 11
  dimension "d322" = 11
  dimension "d323" = 11
  dimension "d324" = 11
  dimension "d325" = 11
  dimension "d326" = 11
  dimension "d327" = 11
  dimension "d328" = 11
  dimension "d329" = 11
  dimension "d330" = 11
  dimension "d331" = 11
  dimension "d332" = 11
  dimension "d333" = 11
  dimension "d334" = 11
  dimension "d335" = 11
  dimension "d336" = 11
  dimension "d337" = 11
  dimension "d338" = 11
  dimension "d339" = 11
  dimension "d340" = 11
  dimension "d341" = 11
  dimension "d342" = 11
  dimension "d343" = 11
  dimension "d344" = 11
  dimension "d345" = 11
  dimension "d346" = 11
  dimension "d347" = 11
  dimension "d348" = 11
  dimension "d349" = 11
  dimension "d350" = 11
  dimension "d351" = 11
  dimension "d352" = 11
  dimension "d353" = 11
  dimension "d354" = 11
  dimension "d355" = 11
  dimension "d356" = 11
  dimension "d357" = 11
  dimension "d358" = 11
  dimension "d359" = 11
  dimension "d360" = 11
  dimension "d361" = 11
  dimension "d362" = 11
  dimension "d363" = 11
  dimension "d364" = 11
  dimension "d365" = 11
  dimension "d366" = 11
  dimension "d367" = 11
  dimension "d368" = 11
  dimension "d369" = 11
  dimension "d370" = 11
  dimension "d371" = 11
  dimension "d372" = 11
  dimension "d373" = 11
  dimension "d374" = 11
  dimension "d375" = 11
  dimension "d376" = 11
  dimension "d377" = 11
  dimension "d378" = 11
  dimension "d379" = 11
  dimension "d380" = 11
  dimension "d381" = 11
  dimension "d382" = 11
  dimension "d383" = 11
  dimension "d384" = 11
  dimension "d385" = 11
  dimension "d386" = 11
  dimension "d387" = 11
  dimension "d388" = 11
  dimension "d389" = 11
  dimension "d390" = 11
  dimension "d391" = 11
  dimension "d392" = 11
  dimension "d393" = 11
  dimension "d394" = 11
  dimension "d395" = 11
  dimension "d396" = 11
  dimension "d397" = 11
  dimension "d398" = 11
  dimension "d399" = 11
  dimension "d400" = 11
  dimension "d401" = 11
  dimension "d402" = 11
  dimension "d403" = 11
  dimension "d404" = 11
  dimension "d405" = 11
  dimension "d406" = 11
  dimension "d407" = 11
  dimension "d408" = 11
  dimension "d409" = 11
  dimension "d410" = 11
  dimension "d411" = 11
  dimension "d412" = 11
  dimension "d413" = 11
  dimension "d414" = 11
  dimension "d415" = 11
  dimension "d416" = 11
  dimension "d417" = 11
  dimension "d418" = 11
  dimension "d419" = 11
  dimension "d420" = 11
  dimension "d421" = 11
  dimension "d422" = 11
  dimension "d423" = 11
  dimension "d424" = 11
  dimension "d425" = 11
  dimension "d426" = 11
  dimension "d427" = 11
  dimension "d428" = 11
  dimension "d429" = 11
  dimension "d430" = 11
  dimension "d431" = 11
  dimension "d432" = 11
  dimension "d433" = 11
  dimension "d434" = 11
  dimension "d453" = 4.1
  dimension "d454" = 4.1
  dimension "d455" = 10
  dimension "d456" = 200
  dimension "d457" = 10
sketch "board prepare" plane through (0, 0, 0) normal (0, 0, 1) x (1, 0, 0)
  line L0 (219.2031, -219.2031) -> (306.8843, -131.5219)
  dimension "d437" = 310
extrude "Extrude13" add sketch "big huge diamond sword" along normal blind 23 contours L0 L1 L2 L3 L7 L11 | L1 L4 L5 L6 L7 L10 L17 | L2 L11 L12 L13 L14 L18 L19 | L6 L12 L15 L16 L17 L18 L23 L30 | L5 L8 L9 L10 L29 | L13 L19 L20 L21 L22 L26 | L16 L27 L28 L29 L30 L31 | L15 L20 L23 L24 L25 L26 L34 | L24 L27 L31 L32 L33 L34 L35 L42 | L33 L35 L36 L37 L38 L46 | L32 L39 L40 L41 L42 L43 | L36 L39 L43 L44 L45 L46 L47 L53 | L45 L47 L48 L49 L50 L57 | L44 L51 L52 L53 L54 L99 | L48 L51 L54 L55 L56 L57 L58 L102 | L56 L58 L59 L60 L61 L94 L106 | L55 L98 L100 L101 L102 L105 L114 | L59 L100 L103 L104 L105 L106 L137 L142 | L60 L65 L92 L94 L95 L96 L97 L138 | L62 L63 L64 L65 L66 L97 | L101 L107 L111 L112 L113 L114 L141 L158 | L107 L108 L109 L110 L111 L118 | L95 L103 L135 L136 L137 L138 L145 L150 | L104 L113 L139 L140 L141 L142 L149 L166 | L64 L66 L67 L68 L69 L82 L93 | L67 L88 L90 L91 L92 L93 L96 L146 | L108 L115 L116 L117 L118 L122 L157 | L112 L115 L155 L156 L157 L158 L162 L165 | L91 L135 L143 L144 L145 L146 L154 | L136 L139 L147 L148 L149 L150 L153 L170 L172 | L140 L155 L163 L164 L165 L166 L169 L171 | L68 L73 L78 L82 L83 L84 L85 L89 | L83 L86 L87 L88 L89 L90 | L116 L119 L120 L121 L122 L126 L127 L161 | L121 L156 L159 L160 L161 L162 | L144 L147 L151 L152 L153 L154 L182 L191 | L148 L163 L167 L168 L169 L170 L171 L172 L173 L174 L178 L179 | L70 L71 L72 L73 L74 L85 | L75 L78 L79 L80 L81 L84 | L119 L127 L128 L129 L130 L134 | L120 L123 L124 L125 L126 L131 | L151 L191 L192 L193 L194 L198 | L152 L167 L173 L179 L180 L181 L182 L186 L195 | L168 L174 L175 L176 L177 L178 L183 | L72 L74 L75 L76 L77 L81 | L123 L128 L131 L132 L133 L134 | L181 L192 L195 L196 L197 L198 L199 L206 | L177 L180 L183 L184 L185 L186 L190 L203 | L185 L196 L203 L204 L205 L206 L207 L214 | L197 L199 L200 L201 L202 L210 | L184 L187 L188 L189 L190 L211 | L189 L204 L211 L212 L213 L214 L222 L223 | L202 L205 L207 L208 L209 L210 L215 L226 | L212 L219 L220 L221 L222 L237 | L208 L213 L223 L224 L225 L226 L231 L238 | L209 L215 L216 L217 L218 L232 | L221 L224 L227 L235 L236 L237 L238 L250 | L216 L225 L230 L231 L232 L233 L234 L239 | L236 L247 L248 L249 L250 L251 | L227 L228 L229 L230 L234 L235 L243 L254 | L233 L239 L240 L241 L242 L246 | L228 L249 L251 L252 L253 L254 L255 L266 | L229 L240 L243 L244 L245 L246 L258 L259 | L244 L253 L255 L256 L257 L258 L267 L274 | L252 L263 L264 L265 L266 L271 | L245 L259 L260 L261 L262 L270 | L257 L260 L267 L268 L269 L270 L278 L283 | L256 L265 L271 L272 L273 L274 L275 L282 | L268 L273 L275 L276 L277 L278 L290 L291 | L269 L283 L284 L285 L286 L294 | L272 L279 L280 L281 L282 L289 | L277 L284 L291 L292 L293 L294 L298 L303 | L276 L281 L287 L288 L289 L290 L295 L302 | L287 L292 L295 L296 L297 L298 L309 L314 | L293 L303 L304 L305 L306 L310 | L288 L299 L300 L301 L302 L311 | L296 L301 L311 L312 L313 L314 L315 L330 | L297 L304 L307 L308 L309 L310 L318 L319 | L308 L313 L315 L316 L317 L318 L323 L334 L335 | L312 L327 L328 L329 L330 L331 | L307 L319 L320 L321 L322 L326 L336 | L317 L320 L323 L324 L325 L326 L335 L336 L337 L338 L342 | L316 L329 L331 L332 L333 L334 L339 | L324 L333 L338 L339 L340 L341 L342
equation "d = 11 mm"
equation "StockHeight = 23 mm"
equation "d249 = d"
equation "d250 = d"
equation "d251 = d"
equation "d252 = d"
equation "d253 = d"
equation "d254 = d"
equation "d255 = d"
equation "d256 = d"
equation "d261 = d"
equation "d262 = d"
equation "d263 = d"
equation "d264 = d"
equation "d265 = d"
equation "d266 = d"
equation "d267 = d"
equation "d268 = d"
equation "d271 = d"
equation "d272 = d"
equation "d273 = d"
equation "d274 = d"
equation "d275 = d"
equation "d276 = d"
equation "d277 = d"
equation "d278 = d"
equation "d279 = d"
equation "d280 = d"
equation "d281 = d"
equation "d282 = d"
equation "d283 = d"
equation "d284 = d"
equation "d285 = d"
equation "d286 = d"
equation "d287 = d"
equation "d288 = d"
equation "d289 = d"
equation "d290 = d"
equation "d291 = d"
equation "d292 = d"
equation "d293 = d"
equation "d294 = d"
equation "d295 = d"
equation "d296 = d"
equation "d297 = d"
equation "d298 = d"
equation "d299 = d"
equation "d300 = d"
equation "d301 = d"
equation "d302 = d"
equation "d303 = d"
equation "d304 = d"
equation "d309 = d"
equation "d310 = d"
equation "d311 = d"
equation "d312 = d"
equation "d313 = d"
equation "d314 = d"
equation "d315 = d"
equation "d316 = d"
equation "d319 = d"
equation "d320 = d"
equation "d321 = d"
equation "d322 = d"
equation "d323 = d"
equation "d324 = d"
equation "d325 = d"
equation "d326 = d"
equation "d327 = d"
equation "d328 = d"
equation "d329 = d"
equation "d330 = d"
equation "d331 = d"
equation "d332 = d"
equation "d333 = d"
equation "d334 = d"
equation "d335 = d"
equation "d336 = d"
equation "d337 = d"
equation "d338 = d"
equation "d339 = d"
equation "d340 = d"
equation "d341 = d"
equation "d342 = d"
equation "d343 = d"
equation "d344 = d"
equation "d345 = d"
equation "d346 = d"
equation "d347 = d"
equation "d348 = d"
equation "d349 = d"
equation "d350 = d"
equation "d351 = d"
equation "d352 = d"
equation "d353 = d"
equation "d354 = d"
equation "d355 = d"
equation "d356 = d"
equation "d357 = d"
equation "d358 = d"
equation "d359 = d"
equation "d360 = d"
equation "d361 = d"
equation "d362 = d"
equation "d363 = d"
equation "d364 = d"
equation "d365 = d"
equation "d366 = d"
equation "d367 = d"
equation "d368 = d"
equation "d369 = d"
equation "d370 = d"
equation "d371 = d"
equation "d372 = d"
equation "d373 = d"
equation "d374 = d"
equation "d375 = d"
equation "d376 = d"
equation "d377 = d"
equation "d378 = d"
equation "d379 = d"
equation "d380 = d"
equation "d381 = d"
equation "d382 = d"
equation "d383 = d"
equation "d384 = d"
equation "d385 = d"
equation "d386 = d"
equation "d387 = d"
equation "d388 = d"
equation "d389 = d"
equation "d390 = d"
equation "d391 = d"
equation "d392 = d"
equation "d393 = d"
equation "d394 = d"
equation "d395 = d"
equation "d396 = d"
equation "d397 = d"
equation "d398 = d"
equation "d399 = d"
equation "d400 = d"
equation "d401 = d"
equation "d402 = d"
equation "d403 = d"
equation "d404 = d"
equation "d405 = d"
equation "d406 = d"
equation "d407 = d"
equation "d408 = d"
equation "d409 = d"
equation "d410 = d"
equation "d411 = d"
equation "d412 = d"
equation "d413 = d"
equation "d414 = d"
equation "d415 = d"
equation "d416 = d"
equation "d417 = d"
equation "d418 = d"
equation "d419 = d"
equation "d420 = d"
equation "d421 = d"
equation "d422 = d"
equation "d423 = d"
equation "d424 = d"
equation "d425 = d"
equation "d426 = d"
equation "d427 = d"
equation "d428 = d"
equation "d429 = d"
equation "d430 = d"
equation "d431 = d"
equation "d432 = d"
equation "d433 = d"
equation "d434 = d"
